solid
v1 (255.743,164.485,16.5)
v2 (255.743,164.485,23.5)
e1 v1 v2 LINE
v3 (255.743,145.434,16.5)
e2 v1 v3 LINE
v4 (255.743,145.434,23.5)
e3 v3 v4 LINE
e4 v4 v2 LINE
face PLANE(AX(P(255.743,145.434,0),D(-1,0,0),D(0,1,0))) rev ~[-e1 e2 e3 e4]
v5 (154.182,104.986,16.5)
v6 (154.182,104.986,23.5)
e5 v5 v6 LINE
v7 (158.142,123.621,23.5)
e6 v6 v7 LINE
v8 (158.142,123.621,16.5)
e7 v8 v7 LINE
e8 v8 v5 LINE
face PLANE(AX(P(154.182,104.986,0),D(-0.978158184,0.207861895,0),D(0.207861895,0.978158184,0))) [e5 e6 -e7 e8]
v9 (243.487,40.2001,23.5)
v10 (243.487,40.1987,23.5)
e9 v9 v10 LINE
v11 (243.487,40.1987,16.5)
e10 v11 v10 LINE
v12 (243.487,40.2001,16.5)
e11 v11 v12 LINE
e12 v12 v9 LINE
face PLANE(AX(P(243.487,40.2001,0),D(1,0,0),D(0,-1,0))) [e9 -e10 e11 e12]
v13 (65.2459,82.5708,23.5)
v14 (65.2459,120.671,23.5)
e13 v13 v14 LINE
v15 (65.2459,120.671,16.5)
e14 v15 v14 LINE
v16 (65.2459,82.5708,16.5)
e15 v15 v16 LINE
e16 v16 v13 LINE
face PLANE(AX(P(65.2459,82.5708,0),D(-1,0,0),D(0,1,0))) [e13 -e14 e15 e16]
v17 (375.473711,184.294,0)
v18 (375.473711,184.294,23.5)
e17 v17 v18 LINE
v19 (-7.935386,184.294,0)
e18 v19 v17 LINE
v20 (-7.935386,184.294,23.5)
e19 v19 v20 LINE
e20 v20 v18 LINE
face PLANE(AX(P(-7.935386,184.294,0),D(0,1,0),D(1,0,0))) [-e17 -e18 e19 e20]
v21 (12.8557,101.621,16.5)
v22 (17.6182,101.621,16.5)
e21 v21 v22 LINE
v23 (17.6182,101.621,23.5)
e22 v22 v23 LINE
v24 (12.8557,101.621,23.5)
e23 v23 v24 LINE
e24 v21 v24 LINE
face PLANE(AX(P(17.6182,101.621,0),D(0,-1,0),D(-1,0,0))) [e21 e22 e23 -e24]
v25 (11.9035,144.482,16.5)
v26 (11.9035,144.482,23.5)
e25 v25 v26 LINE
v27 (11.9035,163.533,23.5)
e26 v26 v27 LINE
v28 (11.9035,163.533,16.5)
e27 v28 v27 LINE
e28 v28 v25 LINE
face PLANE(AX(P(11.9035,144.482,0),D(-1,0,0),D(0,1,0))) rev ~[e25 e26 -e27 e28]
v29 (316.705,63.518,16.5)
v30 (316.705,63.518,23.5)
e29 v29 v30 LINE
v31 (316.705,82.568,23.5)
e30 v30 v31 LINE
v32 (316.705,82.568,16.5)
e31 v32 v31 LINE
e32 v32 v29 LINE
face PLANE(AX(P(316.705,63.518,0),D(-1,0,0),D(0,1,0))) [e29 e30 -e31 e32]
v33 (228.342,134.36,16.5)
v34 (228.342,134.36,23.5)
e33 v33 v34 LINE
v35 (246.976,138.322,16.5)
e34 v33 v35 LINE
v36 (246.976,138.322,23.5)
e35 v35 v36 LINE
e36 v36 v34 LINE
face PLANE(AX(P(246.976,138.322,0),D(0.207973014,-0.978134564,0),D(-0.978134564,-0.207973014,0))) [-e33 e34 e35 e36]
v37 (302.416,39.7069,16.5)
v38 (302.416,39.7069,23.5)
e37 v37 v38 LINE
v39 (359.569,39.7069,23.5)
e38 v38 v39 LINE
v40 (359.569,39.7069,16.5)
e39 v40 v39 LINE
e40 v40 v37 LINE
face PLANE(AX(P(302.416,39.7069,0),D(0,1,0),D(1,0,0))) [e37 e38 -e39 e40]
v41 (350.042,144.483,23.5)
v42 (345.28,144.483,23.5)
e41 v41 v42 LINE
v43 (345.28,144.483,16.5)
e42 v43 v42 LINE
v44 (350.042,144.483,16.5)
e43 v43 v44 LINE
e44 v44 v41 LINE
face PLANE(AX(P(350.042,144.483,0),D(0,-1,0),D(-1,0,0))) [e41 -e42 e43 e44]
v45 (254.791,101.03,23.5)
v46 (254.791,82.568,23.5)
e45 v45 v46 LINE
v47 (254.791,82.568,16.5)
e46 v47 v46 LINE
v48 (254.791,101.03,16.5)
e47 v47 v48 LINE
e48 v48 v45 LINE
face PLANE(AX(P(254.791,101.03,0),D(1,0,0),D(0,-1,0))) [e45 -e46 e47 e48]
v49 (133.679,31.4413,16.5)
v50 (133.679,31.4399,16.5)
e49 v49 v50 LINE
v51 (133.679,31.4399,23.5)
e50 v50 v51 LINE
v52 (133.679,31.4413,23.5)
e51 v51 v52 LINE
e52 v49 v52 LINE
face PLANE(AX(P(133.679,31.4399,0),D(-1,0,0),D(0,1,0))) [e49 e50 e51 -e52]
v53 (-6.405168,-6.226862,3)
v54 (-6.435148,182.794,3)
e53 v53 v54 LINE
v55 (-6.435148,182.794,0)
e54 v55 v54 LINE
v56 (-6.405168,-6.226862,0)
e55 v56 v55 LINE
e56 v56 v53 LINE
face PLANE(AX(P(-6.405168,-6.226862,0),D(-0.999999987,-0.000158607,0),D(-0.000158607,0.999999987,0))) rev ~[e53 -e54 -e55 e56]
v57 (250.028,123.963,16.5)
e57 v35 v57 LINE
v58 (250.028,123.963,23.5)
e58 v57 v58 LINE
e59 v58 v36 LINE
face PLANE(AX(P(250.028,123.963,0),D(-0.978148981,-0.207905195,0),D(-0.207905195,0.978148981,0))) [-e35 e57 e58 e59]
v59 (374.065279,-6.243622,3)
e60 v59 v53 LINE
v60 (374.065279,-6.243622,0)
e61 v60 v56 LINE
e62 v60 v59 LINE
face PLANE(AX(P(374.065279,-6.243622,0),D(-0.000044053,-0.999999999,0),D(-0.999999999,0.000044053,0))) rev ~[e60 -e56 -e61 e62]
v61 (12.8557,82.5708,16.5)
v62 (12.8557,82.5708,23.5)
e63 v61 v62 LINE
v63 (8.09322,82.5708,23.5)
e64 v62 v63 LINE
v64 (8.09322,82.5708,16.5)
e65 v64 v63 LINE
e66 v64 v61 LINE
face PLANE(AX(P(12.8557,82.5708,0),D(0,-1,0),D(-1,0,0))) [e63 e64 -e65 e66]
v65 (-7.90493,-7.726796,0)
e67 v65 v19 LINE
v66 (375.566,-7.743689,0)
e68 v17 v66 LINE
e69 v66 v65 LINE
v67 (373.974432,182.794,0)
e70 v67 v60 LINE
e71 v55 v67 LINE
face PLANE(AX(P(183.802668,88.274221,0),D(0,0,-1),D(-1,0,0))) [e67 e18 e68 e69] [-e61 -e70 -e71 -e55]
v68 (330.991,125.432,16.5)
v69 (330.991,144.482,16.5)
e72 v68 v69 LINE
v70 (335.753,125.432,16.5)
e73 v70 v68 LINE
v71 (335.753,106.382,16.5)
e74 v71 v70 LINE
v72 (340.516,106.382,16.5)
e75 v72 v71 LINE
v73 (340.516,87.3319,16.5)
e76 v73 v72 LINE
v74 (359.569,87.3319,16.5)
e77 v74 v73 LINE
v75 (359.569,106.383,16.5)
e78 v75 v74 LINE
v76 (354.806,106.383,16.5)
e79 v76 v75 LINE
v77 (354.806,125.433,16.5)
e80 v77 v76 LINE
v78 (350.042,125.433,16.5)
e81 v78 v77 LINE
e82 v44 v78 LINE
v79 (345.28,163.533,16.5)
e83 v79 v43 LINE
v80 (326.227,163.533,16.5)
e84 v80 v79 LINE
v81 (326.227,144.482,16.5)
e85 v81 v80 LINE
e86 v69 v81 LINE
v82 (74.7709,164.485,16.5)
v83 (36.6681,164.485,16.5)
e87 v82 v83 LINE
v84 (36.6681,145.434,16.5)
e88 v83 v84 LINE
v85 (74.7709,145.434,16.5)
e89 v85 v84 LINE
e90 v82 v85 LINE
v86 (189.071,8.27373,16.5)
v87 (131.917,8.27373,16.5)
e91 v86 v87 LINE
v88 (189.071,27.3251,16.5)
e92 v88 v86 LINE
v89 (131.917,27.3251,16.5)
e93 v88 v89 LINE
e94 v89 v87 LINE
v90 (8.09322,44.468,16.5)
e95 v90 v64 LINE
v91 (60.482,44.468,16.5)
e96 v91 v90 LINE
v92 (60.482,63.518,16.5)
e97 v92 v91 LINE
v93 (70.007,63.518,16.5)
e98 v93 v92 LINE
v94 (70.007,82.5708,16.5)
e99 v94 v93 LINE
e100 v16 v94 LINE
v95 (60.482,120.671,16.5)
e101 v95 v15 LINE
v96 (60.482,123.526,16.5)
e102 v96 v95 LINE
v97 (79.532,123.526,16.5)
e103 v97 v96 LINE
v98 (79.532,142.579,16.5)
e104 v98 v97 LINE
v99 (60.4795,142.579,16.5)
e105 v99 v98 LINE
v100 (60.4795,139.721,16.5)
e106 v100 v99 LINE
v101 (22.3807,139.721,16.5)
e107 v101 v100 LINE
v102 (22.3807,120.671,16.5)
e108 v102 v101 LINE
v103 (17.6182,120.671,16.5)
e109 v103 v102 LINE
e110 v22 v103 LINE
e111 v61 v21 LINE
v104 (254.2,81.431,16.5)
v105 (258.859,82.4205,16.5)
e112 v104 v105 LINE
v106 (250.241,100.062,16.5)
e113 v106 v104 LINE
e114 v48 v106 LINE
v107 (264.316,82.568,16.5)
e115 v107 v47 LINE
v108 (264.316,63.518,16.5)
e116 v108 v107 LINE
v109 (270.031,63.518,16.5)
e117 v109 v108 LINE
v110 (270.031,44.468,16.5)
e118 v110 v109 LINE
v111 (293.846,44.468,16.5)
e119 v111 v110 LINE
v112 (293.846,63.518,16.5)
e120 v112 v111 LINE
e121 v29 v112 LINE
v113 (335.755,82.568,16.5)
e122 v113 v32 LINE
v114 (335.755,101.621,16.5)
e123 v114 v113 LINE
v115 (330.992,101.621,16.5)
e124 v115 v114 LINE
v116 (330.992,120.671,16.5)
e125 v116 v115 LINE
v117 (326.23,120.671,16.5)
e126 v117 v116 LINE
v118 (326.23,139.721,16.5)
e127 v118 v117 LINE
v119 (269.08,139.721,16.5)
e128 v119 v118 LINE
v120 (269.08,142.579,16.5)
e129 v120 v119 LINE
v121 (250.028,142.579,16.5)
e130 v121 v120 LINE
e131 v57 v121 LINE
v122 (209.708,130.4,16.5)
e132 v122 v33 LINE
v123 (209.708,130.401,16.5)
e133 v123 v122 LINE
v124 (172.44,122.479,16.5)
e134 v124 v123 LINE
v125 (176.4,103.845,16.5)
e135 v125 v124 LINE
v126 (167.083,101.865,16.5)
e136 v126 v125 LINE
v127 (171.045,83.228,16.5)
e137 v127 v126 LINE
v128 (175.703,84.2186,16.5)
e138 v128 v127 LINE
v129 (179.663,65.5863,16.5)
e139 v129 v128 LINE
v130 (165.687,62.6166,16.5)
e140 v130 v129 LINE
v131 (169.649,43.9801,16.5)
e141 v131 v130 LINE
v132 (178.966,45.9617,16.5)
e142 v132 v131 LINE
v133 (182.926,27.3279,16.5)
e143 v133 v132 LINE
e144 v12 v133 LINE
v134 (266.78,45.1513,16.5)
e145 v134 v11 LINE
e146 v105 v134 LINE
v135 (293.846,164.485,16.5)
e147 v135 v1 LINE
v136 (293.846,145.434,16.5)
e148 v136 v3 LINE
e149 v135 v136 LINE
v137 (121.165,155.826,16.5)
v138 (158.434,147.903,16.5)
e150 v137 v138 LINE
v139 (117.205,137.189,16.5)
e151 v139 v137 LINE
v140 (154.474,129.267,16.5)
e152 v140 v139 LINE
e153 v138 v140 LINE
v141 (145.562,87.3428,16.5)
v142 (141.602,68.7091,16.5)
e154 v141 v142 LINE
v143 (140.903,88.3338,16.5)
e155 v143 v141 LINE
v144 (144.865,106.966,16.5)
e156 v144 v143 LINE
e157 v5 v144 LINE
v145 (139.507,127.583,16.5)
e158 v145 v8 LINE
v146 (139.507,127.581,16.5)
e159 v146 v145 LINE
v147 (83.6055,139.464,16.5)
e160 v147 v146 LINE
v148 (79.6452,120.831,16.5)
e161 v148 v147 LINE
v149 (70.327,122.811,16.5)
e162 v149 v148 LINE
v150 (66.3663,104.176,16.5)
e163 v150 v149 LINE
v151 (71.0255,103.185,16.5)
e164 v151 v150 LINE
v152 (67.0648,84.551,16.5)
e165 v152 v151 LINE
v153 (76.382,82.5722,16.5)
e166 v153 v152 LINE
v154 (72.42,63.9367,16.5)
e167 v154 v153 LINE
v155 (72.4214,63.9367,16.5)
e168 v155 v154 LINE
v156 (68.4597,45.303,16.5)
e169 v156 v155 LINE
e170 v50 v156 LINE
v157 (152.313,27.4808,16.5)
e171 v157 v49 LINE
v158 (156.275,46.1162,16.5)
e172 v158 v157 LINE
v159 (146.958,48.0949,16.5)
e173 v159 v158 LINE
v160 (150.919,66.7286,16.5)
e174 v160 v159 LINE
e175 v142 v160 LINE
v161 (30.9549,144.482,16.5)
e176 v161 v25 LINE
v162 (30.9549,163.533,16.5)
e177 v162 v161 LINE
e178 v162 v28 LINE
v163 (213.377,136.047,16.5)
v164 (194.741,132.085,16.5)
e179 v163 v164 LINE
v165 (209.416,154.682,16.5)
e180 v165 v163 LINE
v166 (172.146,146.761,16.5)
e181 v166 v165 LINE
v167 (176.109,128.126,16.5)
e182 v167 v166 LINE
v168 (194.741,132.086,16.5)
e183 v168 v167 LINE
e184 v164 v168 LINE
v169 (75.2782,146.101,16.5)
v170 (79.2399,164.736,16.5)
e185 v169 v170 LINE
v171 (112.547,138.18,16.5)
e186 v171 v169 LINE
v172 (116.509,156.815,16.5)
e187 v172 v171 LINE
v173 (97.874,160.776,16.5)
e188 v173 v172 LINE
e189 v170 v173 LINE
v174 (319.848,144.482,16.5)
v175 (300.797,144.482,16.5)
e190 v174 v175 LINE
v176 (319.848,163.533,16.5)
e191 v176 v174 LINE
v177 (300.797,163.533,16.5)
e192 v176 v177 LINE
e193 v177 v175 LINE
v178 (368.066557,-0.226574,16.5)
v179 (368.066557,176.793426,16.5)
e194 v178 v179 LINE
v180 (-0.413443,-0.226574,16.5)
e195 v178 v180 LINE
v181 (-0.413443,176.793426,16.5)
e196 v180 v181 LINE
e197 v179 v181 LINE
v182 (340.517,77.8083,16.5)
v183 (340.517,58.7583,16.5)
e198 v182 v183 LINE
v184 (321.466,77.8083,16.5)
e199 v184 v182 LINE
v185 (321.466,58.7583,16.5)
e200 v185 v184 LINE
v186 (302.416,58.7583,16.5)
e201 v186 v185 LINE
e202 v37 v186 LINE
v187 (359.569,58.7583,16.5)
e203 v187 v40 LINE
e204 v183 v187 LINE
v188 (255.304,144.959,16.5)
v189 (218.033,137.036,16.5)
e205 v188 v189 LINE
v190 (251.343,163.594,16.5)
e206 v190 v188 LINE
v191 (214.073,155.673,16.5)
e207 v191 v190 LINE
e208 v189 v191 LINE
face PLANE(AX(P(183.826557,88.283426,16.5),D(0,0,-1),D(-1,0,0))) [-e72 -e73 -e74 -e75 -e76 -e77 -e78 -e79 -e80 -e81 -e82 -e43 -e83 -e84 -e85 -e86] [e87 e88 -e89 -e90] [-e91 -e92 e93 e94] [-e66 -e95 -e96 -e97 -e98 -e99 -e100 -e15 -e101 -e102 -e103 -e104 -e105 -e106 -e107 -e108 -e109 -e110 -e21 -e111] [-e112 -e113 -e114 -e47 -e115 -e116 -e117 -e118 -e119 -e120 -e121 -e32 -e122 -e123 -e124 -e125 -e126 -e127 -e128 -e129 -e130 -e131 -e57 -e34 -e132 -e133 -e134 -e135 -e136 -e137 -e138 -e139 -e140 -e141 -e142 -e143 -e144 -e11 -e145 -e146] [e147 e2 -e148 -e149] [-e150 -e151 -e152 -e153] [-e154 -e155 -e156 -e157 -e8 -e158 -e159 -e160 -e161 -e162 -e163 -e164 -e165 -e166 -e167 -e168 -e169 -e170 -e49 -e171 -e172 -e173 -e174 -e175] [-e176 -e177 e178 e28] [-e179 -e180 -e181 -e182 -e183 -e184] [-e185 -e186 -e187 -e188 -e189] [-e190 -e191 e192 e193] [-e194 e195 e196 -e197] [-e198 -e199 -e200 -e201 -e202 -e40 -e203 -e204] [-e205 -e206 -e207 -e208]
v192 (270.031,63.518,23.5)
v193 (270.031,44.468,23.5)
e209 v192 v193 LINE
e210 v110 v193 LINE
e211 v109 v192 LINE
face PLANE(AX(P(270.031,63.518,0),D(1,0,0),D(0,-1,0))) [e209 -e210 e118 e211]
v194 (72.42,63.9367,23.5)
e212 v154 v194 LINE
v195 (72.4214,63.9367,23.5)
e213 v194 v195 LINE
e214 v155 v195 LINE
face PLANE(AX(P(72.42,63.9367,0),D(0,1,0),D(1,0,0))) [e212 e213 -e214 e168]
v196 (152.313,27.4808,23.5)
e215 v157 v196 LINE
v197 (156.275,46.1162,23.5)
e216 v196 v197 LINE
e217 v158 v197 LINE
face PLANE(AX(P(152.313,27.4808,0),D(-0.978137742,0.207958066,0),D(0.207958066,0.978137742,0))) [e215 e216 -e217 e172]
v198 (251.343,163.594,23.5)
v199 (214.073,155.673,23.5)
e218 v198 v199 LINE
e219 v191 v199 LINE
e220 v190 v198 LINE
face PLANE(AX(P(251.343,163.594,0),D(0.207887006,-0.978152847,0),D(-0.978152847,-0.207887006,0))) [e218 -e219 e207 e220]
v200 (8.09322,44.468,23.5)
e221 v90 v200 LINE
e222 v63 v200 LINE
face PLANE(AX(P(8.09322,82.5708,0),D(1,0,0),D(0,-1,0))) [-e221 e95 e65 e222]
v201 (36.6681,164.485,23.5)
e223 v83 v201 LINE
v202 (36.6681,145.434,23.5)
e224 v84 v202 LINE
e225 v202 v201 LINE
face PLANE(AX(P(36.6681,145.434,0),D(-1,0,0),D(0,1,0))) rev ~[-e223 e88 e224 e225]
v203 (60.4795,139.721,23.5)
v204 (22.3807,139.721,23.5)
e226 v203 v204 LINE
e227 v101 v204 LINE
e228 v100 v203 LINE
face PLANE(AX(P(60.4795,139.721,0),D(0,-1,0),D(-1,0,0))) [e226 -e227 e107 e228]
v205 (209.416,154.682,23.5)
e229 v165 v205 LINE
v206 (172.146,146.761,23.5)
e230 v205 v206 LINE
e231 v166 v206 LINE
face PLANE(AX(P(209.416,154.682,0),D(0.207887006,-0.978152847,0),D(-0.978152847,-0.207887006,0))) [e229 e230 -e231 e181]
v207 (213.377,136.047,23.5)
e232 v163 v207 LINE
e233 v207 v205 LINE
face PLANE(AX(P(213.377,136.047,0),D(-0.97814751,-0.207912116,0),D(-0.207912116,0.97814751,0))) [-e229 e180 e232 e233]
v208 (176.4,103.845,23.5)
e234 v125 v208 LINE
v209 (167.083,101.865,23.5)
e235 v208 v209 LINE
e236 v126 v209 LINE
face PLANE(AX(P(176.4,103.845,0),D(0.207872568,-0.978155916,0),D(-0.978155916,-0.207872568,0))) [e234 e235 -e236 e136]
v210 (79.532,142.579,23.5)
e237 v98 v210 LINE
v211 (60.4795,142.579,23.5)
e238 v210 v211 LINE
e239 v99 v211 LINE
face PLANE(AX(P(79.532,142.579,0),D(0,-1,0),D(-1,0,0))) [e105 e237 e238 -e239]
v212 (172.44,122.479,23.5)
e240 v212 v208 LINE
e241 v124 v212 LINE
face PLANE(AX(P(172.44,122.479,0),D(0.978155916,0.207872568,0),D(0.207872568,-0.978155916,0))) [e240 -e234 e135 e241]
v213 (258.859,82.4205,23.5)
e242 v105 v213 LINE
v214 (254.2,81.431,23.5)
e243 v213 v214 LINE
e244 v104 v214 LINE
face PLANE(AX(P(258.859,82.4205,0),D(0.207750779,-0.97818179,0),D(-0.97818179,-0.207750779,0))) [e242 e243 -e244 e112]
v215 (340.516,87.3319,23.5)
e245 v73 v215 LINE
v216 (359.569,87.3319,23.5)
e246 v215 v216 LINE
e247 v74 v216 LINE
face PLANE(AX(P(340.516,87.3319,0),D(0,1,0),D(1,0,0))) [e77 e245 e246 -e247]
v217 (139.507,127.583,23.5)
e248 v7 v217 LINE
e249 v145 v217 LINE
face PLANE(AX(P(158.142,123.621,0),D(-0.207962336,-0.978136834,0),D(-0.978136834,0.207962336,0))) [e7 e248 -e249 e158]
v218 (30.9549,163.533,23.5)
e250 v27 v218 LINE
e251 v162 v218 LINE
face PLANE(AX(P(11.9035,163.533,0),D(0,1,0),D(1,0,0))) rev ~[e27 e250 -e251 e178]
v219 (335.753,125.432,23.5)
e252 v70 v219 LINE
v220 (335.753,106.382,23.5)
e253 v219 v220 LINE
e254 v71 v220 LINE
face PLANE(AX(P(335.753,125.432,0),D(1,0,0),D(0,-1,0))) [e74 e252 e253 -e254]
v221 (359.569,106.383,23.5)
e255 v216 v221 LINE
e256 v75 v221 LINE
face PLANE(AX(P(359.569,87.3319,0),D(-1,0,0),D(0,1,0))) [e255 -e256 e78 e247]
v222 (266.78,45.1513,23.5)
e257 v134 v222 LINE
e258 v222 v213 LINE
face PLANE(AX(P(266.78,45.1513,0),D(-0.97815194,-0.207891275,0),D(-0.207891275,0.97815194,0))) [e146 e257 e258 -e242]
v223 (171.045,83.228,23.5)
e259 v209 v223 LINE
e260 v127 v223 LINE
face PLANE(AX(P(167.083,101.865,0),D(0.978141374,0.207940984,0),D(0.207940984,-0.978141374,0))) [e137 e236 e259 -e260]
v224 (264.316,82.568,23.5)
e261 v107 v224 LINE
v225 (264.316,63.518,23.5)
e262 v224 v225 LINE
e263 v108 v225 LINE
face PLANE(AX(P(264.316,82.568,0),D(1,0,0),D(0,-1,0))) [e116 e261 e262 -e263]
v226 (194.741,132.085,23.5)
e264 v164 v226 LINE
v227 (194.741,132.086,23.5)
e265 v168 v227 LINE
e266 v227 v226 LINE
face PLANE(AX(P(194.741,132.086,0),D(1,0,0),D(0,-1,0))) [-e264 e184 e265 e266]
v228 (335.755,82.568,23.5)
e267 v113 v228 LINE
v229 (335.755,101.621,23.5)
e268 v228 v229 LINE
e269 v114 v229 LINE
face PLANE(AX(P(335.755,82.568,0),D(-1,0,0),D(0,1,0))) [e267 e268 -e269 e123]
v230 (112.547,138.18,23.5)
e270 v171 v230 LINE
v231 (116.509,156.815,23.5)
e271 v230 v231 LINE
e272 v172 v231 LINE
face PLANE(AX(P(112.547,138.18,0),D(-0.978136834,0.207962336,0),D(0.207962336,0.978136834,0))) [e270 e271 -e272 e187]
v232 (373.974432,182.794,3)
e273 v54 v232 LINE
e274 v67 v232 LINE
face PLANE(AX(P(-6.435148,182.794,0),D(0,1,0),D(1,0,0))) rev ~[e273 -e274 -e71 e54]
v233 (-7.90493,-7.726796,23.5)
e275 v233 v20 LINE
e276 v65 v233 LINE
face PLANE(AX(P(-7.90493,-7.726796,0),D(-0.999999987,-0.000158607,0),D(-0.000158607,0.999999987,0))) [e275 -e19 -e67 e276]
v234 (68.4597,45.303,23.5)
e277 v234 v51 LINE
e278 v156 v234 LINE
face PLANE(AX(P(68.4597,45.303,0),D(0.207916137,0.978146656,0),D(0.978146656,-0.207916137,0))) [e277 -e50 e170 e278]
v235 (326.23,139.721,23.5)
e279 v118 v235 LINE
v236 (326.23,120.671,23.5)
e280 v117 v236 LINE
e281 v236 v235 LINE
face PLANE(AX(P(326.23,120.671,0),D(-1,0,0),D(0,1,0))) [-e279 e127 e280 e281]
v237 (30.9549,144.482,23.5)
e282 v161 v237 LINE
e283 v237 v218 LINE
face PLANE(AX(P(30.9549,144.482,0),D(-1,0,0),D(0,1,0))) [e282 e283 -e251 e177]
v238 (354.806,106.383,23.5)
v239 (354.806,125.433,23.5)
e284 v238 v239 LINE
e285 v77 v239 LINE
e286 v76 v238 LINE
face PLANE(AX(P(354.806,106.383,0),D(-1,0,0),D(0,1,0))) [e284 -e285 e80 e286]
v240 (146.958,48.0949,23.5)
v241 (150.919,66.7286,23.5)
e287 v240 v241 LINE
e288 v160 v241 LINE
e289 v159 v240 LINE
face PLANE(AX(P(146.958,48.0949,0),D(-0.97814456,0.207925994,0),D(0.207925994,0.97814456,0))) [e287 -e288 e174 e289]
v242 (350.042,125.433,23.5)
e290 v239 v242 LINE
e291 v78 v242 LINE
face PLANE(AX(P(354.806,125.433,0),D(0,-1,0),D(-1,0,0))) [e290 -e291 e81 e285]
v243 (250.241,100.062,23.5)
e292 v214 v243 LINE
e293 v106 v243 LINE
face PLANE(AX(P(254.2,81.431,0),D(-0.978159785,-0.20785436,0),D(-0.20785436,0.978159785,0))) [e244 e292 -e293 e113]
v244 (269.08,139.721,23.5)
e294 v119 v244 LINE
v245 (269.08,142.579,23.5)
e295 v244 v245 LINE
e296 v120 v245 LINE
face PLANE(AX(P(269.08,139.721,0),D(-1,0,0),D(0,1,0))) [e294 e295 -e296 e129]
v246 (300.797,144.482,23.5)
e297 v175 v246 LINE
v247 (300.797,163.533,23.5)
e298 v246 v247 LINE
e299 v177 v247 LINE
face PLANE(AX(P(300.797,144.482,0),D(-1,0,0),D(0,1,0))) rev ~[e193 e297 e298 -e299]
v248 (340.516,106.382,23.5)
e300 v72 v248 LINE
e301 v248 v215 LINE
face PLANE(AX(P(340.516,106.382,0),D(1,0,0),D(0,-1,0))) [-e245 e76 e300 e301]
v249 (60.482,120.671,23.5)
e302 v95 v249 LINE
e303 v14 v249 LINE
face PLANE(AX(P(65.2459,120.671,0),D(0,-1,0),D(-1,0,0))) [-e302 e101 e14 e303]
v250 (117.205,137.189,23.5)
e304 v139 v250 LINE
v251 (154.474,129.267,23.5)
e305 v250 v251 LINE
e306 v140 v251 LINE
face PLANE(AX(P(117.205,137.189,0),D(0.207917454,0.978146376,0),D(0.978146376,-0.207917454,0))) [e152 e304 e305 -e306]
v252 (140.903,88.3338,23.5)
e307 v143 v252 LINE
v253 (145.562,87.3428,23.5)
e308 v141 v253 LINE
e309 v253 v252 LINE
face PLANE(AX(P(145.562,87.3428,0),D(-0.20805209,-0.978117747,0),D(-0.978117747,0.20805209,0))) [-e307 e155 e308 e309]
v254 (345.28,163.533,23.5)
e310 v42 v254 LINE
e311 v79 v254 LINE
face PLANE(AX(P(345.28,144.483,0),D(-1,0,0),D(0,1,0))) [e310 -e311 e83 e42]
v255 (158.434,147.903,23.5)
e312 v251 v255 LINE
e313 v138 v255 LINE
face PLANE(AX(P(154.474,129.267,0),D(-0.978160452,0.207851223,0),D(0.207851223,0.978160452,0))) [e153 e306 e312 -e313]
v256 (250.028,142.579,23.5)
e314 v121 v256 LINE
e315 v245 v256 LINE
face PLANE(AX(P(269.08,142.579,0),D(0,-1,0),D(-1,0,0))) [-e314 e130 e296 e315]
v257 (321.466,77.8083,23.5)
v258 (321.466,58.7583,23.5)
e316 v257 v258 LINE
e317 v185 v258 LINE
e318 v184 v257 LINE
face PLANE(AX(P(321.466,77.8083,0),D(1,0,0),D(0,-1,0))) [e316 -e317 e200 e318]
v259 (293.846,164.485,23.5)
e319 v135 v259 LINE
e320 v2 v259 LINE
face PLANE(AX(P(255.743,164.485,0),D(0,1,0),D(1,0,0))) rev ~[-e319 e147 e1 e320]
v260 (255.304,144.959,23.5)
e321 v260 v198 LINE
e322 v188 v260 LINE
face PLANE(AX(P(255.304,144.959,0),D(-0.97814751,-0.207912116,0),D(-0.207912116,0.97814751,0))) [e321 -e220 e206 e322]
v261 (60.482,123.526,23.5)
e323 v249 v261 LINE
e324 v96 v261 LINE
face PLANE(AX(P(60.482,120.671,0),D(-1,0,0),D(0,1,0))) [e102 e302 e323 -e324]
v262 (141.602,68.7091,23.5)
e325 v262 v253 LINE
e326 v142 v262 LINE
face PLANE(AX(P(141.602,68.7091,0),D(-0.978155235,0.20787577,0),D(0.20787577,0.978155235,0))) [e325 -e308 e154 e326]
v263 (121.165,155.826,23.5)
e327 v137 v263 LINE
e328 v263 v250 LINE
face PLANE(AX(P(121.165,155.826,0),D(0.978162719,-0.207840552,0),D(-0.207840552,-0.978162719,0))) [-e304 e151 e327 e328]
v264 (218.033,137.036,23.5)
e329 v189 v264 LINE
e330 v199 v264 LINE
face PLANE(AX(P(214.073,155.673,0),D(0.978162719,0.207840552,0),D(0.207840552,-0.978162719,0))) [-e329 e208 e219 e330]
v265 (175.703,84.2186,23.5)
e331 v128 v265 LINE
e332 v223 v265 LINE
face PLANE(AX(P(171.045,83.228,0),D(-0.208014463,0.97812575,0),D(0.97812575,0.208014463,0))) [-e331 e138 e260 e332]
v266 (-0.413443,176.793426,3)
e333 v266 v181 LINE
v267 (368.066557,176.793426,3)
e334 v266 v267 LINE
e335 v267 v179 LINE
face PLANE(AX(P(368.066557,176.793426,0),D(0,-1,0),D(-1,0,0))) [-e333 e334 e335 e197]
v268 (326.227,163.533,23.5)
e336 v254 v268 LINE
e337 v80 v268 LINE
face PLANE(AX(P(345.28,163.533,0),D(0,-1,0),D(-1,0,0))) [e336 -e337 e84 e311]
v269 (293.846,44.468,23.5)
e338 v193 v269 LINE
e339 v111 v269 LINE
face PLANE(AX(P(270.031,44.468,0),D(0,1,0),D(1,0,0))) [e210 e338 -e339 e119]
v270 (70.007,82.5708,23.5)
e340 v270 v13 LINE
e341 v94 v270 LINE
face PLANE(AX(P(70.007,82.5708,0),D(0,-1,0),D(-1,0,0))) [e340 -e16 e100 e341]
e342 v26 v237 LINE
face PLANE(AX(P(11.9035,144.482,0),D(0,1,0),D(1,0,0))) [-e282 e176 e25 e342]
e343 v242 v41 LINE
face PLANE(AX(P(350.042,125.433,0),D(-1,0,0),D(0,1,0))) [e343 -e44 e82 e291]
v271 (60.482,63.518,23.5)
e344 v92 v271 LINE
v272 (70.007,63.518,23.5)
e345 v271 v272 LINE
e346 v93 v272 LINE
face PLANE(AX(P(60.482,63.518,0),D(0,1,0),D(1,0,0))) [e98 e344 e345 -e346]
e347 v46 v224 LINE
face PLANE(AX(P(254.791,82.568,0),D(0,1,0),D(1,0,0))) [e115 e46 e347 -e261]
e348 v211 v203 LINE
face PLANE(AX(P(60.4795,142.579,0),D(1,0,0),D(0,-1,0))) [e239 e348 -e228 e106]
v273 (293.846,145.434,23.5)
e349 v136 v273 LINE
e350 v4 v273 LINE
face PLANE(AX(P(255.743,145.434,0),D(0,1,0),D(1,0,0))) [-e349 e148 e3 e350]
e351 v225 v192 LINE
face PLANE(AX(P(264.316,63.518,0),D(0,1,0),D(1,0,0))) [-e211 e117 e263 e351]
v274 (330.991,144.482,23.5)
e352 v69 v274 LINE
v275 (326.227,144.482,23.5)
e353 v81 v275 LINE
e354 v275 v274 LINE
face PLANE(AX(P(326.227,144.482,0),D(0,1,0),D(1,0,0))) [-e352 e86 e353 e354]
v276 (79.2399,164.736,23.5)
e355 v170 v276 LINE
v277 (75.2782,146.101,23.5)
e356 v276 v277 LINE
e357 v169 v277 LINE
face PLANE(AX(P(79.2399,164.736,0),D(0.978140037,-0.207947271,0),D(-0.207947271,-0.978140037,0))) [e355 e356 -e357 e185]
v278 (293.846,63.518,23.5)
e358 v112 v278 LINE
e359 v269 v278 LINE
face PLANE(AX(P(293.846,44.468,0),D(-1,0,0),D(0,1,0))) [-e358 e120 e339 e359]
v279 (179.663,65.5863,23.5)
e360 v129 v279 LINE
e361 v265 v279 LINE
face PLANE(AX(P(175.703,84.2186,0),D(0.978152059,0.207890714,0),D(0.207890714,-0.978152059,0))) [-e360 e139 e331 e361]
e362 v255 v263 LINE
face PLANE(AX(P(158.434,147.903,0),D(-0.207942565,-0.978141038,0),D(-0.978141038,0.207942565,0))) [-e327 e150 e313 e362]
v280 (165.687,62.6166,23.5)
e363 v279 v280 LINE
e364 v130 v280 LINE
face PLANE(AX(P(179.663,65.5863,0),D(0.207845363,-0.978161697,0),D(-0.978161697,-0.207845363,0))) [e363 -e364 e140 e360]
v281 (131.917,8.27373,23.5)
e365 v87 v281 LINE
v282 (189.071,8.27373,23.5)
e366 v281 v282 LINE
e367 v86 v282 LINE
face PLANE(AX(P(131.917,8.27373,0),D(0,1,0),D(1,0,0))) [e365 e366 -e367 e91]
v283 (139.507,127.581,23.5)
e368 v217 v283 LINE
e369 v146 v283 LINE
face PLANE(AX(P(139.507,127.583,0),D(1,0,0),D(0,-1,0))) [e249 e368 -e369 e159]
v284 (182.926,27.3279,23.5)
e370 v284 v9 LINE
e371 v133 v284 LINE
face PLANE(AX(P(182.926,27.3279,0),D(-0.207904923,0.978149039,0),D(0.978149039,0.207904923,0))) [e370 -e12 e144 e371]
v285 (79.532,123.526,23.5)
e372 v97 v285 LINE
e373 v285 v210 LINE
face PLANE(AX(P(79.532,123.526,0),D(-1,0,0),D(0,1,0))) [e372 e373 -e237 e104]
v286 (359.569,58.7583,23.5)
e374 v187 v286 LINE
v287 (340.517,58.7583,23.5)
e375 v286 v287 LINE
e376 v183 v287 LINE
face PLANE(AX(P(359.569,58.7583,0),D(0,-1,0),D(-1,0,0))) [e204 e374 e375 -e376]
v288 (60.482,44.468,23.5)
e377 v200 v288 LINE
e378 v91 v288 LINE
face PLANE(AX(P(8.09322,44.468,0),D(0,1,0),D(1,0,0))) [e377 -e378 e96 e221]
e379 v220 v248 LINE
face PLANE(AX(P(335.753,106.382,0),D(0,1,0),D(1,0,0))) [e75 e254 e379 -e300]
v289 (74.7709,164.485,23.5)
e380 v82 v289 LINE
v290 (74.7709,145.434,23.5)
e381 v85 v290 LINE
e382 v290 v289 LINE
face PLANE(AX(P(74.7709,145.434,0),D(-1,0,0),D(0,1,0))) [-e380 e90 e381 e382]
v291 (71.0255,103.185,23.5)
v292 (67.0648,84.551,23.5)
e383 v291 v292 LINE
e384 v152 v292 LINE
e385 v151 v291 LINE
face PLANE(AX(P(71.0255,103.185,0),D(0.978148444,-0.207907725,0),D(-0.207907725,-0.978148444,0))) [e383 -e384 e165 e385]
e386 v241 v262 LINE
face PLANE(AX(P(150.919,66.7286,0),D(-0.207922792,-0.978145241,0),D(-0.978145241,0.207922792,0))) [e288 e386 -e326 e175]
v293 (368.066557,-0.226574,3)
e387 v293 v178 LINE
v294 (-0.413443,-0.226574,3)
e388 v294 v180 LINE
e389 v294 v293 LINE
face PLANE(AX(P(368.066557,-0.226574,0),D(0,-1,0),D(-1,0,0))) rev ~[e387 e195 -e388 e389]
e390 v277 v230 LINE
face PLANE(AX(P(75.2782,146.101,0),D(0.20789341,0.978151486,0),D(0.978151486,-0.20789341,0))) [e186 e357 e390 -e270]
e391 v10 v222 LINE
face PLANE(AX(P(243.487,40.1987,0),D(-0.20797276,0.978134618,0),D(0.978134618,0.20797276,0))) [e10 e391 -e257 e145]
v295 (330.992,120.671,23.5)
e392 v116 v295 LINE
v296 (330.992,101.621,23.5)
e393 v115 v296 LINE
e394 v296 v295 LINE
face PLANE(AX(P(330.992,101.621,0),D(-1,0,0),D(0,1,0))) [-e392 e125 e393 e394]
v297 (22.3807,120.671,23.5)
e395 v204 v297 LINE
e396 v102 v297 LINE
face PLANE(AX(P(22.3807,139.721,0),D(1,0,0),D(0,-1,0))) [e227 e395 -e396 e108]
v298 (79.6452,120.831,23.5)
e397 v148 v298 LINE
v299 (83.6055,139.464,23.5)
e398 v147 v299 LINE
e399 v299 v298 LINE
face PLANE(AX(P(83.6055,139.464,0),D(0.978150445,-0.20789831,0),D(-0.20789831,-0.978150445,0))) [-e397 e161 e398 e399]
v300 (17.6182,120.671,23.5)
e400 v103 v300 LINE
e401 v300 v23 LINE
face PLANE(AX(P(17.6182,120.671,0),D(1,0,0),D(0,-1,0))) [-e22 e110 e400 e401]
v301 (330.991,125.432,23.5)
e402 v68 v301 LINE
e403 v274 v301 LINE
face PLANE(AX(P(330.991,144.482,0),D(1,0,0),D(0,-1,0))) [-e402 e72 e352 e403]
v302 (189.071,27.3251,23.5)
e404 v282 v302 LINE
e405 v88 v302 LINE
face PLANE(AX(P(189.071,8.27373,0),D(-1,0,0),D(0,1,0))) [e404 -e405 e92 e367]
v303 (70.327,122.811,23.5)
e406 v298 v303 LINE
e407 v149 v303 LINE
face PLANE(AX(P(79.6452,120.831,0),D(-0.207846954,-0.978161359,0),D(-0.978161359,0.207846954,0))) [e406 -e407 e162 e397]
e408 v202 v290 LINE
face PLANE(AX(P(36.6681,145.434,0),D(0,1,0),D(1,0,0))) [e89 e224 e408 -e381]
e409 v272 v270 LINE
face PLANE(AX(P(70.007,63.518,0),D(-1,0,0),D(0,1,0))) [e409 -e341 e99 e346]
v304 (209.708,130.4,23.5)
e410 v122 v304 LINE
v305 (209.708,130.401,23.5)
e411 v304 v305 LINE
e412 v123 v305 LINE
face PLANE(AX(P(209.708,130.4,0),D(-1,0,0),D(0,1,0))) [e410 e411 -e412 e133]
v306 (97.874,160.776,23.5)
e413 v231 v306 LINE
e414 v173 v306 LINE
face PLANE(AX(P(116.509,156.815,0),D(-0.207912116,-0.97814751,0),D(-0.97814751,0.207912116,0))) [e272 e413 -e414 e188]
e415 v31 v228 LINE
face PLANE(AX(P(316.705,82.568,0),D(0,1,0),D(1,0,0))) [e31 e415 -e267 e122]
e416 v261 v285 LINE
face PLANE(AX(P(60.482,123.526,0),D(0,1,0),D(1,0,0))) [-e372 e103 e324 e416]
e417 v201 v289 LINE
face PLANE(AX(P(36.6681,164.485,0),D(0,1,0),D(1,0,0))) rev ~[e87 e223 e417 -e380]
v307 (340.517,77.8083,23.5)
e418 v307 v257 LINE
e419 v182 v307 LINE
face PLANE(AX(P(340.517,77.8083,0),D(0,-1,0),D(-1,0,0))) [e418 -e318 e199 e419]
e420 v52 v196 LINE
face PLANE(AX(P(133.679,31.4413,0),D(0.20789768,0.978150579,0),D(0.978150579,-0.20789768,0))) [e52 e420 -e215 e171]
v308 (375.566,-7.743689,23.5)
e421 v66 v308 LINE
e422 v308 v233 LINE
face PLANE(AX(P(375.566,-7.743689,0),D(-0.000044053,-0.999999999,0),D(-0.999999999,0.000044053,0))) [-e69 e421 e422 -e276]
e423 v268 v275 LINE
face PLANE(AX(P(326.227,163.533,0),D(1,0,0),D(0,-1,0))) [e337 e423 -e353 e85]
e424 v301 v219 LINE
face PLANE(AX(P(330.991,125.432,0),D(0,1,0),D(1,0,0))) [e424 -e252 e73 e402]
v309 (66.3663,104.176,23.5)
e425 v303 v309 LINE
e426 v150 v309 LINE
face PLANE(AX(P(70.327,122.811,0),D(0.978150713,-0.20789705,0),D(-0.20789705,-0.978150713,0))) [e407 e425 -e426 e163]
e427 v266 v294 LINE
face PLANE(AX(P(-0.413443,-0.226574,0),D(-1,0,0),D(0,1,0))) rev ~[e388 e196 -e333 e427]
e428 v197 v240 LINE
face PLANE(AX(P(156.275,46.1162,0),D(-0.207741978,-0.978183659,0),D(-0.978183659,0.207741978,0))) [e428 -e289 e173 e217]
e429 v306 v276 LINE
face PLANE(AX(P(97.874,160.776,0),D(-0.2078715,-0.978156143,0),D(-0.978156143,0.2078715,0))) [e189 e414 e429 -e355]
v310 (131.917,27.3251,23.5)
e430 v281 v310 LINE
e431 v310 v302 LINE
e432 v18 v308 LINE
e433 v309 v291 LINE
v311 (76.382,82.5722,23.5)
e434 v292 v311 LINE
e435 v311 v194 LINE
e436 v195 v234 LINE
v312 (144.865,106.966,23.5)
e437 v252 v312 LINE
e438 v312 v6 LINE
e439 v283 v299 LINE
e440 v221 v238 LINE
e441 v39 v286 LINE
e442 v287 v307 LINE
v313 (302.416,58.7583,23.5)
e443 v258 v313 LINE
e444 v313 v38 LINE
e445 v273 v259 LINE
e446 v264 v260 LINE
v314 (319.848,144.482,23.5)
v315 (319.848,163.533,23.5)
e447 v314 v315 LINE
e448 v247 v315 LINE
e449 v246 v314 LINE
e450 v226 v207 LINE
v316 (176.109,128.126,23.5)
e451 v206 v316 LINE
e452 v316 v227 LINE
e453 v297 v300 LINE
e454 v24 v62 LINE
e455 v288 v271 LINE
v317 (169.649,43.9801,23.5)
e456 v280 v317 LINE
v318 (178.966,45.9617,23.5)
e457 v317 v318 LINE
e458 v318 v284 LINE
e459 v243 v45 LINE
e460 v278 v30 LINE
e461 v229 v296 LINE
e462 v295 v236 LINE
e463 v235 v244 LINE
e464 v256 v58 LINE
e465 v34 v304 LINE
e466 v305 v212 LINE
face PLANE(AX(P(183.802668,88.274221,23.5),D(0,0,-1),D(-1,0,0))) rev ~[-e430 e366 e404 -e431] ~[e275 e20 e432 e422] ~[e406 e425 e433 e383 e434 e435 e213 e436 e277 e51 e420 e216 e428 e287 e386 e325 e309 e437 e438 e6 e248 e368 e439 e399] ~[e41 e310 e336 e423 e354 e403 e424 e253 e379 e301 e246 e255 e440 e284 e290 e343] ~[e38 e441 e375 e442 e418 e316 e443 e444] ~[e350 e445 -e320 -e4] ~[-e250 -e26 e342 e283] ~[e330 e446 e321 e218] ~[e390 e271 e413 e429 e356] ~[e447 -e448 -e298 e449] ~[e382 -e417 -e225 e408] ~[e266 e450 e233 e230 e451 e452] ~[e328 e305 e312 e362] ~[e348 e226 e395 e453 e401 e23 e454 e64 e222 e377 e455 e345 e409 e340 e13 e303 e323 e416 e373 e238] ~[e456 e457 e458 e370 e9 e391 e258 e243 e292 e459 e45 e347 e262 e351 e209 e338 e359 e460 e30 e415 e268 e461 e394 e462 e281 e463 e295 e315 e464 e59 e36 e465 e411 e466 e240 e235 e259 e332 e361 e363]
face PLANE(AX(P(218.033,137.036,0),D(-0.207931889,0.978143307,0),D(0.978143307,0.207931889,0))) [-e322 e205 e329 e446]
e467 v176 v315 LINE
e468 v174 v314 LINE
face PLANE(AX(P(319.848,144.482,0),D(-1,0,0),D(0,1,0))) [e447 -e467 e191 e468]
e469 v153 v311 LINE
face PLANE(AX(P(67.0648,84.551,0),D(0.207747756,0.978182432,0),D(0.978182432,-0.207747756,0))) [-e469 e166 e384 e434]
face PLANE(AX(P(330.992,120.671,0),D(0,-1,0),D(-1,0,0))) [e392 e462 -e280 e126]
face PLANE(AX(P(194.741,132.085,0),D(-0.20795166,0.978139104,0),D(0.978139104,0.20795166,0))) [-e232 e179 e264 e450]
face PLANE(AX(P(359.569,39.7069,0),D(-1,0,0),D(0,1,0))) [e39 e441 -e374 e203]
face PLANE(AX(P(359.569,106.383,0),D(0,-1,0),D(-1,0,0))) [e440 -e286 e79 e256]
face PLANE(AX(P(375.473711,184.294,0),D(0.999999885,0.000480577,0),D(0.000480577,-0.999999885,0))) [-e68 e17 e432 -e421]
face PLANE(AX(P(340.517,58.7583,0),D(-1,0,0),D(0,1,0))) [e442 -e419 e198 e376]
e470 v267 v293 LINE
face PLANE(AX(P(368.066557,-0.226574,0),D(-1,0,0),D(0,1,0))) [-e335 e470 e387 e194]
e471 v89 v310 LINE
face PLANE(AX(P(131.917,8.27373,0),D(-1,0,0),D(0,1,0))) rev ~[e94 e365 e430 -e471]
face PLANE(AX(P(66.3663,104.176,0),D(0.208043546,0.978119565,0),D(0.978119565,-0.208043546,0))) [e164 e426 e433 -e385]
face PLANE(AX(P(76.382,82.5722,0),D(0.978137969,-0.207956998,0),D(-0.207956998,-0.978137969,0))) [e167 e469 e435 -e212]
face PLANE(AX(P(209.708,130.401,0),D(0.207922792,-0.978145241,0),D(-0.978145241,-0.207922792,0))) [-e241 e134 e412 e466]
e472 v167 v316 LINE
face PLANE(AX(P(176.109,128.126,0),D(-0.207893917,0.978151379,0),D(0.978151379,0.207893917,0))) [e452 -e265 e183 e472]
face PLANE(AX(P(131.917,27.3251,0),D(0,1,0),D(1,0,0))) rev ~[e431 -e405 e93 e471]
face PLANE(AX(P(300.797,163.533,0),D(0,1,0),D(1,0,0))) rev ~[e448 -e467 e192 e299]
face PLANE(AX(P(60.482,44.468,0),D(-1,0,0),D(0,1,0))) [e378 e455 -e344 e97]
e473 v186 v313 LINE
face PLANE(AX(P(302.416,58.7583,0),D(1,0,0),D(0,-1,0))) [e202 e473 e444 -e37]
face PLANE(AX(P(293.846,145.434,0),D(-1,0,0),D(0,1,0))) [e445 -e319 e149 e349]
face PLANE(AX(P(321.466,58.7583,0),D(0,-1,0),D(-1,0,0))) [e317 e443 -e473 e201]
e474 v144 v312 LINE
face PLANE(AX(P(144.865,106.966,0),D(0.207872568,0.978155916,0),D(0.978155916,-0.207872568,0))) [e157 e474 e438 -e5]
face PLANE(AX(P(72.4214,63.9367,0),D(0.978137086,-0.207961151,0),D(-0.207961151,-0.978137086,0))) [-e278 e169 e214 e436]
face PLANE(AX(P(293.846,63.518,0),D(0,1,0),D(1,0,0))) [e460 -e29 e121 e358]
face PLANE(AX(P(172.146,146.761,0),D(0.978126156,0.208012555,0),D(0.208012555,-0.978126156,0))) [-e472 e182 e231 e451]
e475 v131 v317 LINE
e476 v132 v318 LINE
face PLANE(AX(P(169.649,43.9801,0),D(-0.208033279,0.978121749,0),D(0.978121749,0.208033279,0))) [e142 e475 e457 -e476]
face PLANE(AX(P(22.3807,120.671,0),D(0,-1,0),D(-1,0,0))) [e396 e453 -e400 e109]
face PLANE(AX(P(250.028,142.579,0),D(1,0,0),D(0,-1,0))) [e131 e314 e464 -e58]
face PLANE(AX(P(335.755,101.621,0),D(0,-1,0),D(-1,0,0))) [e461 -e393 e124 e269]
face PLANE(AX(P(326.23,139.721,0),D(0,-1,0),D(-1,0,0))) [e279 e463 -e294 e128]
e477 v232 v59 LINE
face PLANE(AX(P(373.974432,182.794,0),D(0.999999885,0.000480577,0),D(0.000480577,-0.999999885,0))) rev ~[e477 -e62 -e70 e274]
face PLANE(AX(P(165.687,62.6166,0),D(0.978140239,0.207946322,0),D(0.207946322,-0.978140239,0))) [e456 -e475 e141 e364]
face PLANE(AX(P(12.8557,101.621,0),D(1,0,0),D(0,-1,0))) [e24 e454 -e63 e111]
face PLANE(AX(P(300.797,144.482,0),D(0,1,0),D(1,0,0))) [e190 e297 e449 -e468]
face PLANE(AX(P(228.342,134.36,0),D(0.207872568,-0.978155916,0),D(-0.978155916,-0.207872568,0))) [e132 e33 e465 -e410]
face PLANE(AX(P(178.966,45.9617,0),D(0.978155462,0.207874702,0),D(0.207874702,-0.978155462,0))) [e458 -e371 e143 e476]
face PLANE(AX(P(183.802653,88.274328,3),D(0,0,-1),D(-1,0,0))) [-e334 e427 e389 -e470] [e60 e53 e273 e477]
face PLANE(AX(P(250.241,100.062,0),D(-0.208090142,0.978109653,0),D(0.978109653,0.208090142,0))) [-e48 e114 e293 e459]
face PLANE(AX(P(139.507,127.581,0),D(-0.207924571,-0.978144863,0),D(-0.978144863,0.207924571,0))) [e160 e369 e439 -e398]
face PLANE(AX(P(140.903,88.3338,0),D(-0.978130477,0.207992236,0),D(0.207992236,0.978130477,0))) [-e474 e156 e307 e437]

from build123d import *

# Parameters (mm, degrees)
MODEL_W             = 57.154
MODEL_H             = 19.05137
MODEL_W_2           = 19.051
MODEL_H_2           = 19.051
MODEL_W_3           = 19.0514
MODEL_W_4           = 38.103
MODEL_W_5           = 38.1028
EXTRUDE_1_DEPTH     = 23.5
SKETCH_2_W          = 368.48
SKETCH_2_H          = 177.02
CUT_EXTRUDE_1_DEPTH = 16.5
CUT_EXTRUDE_2_DEPTH = 3


with BuildPart() as part:
    # Model → 凸台-拉伸1 (new body)
    with BuildSketch(Plane.XY):
        Polygon((-7.904930268, -7.726795577), (-7.935386074, 184.294), (375.473711158, 184.294), (375.566, -7.74368854), align=None)
        with Locations((160.494, 17.799415)):
            Rectangle(MODEL_W, MODEL_H, mode=Mode.SUBTRACT)
        Polygon((250.028, 142.579), (250.028, 123.963), (246.976, 138.322), (228.342, 134.36), (209.708, 130.4), (209.708, 130.401), (172.44, 122.479), (176.4, 103.845), (167.083, 101.865), (171.045, 83.228), (175.703, 84.2186), (179.663, 65.5863), (165.687, 62.6166), (169.649, 43.9801), (178.966, 45.9617), (182.926, 27.3279), (243.487, 40.2001), (243.487, 40.1987), (266.78, 45.1513), (258.859, 82.4205), (254.2, 81.431), (250.241, 100.062), (254.791, 101.03), (254.791, 82.568), (264.316, 82.568), (264.316, 63.518), (270.031, 63.518), (270.031, 44.468), (293.846, 44.468), (293.846, 63.518), (316.705, 63.518), (316.705, 82.568), (335.755, 82.568), (335.755, 101.621), (330.992, 101.621), (330.992, 120.671), (326.23, 120.671), (326.23, 139.721), (269.08, 139.721), (269.08, 142.579), align=None, mode=Mode.SUBTRACT)
        Polygon((79.6452, 120.831), (70.327, 122.811), (66.3663, 104.176), (71.0255, 103.185), (67.0648, 84.551), (76.382, 82.5722), (72.42, 63.9367), (72.4214, 63.9367), (68.4597, 45.303), (133.679, 31.4399), (133.679, 31.4413), (152.313, 27.4808), (156.275, 46.1162), (146.958, 48.0949), (150.919, 66.7286), (141.602, 68.7091), (145.562, 87.3428), (140.903, 88.3338), (144.865, 106.966), (154.182, 104.986), (158.142, 123.621), (139.507, 127.583), (139.507, 127.581), (83.6055, 139.464), align=None, mode=Mode.SUBTRACT)
        Polygon((321.466, 77.8083), (321.466, 58.7583), (302.416, 58.7583), (302.416, 39.7069), (359.569, 39.7069), (359.569, 58.7583), (340.517, 58.7583), (340.517, 77.8083), align=None, mode=Mode.SUBTRACT)
        Polygon((60.4795, 142.579), (60.4795, 139.721), (22.3807, 139.721), (22.3807, 120.671), (17.6182, 120.671), (17.6182, 101.621), (12.8557, 101.621), (12.8557, 82.5708), (8.09322, 82.5708), (8.09322, 44.468), (60.482, 44.468), (60.482, 63.518), (70.007, 63.518), (70.007, 82.5708), (65.2459, 82.5708), (65.2459, 120.671), (60.482, 120.671), (60.482, 123.526), (79.532, 123.526), (79.532, 142.579), align=None, mode=Mode.SUBTRACT)
        Polygon((326.227, 163.533), (326.227, 144.482), (330.991, 144.482), (330.991, 125.432), (335.753, 125.432), (335.753, 106.382), (340.516, 106.382), (340.516, 87.3319), (359.569, 87.3319), (359.569, 106.383), (354.806, 106.383), (354.806, 125.433), (350.042, 125.433), (350.042, 144.483), (345.28, 144.483), (345.28, 163.533), align=None, mode=Mode.SUBTRACT)
        Polygon((172.146, 146.761), (176.109, 128.126), (194.741, 132.086), (194.741, 132.085), (213.377, 136.047), (209.416, 154.682), align=None, mode=Mode.SUBTRACT)
        Polygon((117.205, 137.189), (154.474, 129.267), (158.434, 147.903), (121.165, 155.826), align=None, mode=Mode.SUBTRACT)
        Polygon((214.073, 155.673), (218.033, 137.036), (255.304, 144.959), (251.343, 163.594), align=None, mode=Mode.SUBTRACT)
        Polygon((75.2782, 146.101), (112.547, 138.18), (116.509, 156.815), (97.874, 160.776), (79.2399, 164.736), align=None, mode=Mode.SUBTRACT)
        with Locations((310.3225, 154.0075)):
            Rectangle(MODEL_W_2, MODEL_H_2, mode=Mode.SUBTRACT)
        with Locations((21.4292, 154.0075)):
            Rectangle(MODEL_W_3, MODEL_H_2, mode=Mode.SUBTRACT)
        with Locations((274.7945, 154.9595)):
            Rectangle(MODEL_W_4, MODEL_H_2, mode=Mode.SUBTRACT)
        with Locations((55.7195, 154.9595)):
            Rectangle(MODEL_W_5, MODEL_H_2, mode=Mode.SUBTRACT)
    extrude(amount=EXTRUDE_1_DEPTH)

    # 草图2 → 切除-拉伸1 (cut)
    with BuildSketch(Plane(origin=(0, 0, 0), x_dir=(-1, 0, 0), z_dir=(0, 0, -1))):
        with Locations((-183.826556737, 88.283426)):
            Rectangle(SKETCH_2_W, SKETCH_2_H)
    extrude(amount=-CUT_EXTRUDE_1_DEPTH, mode=Mode.SUBTRACT)

    # 草图3 → 切除-拉伸2 (cut)
    with BuildSketch(Plane(origin=(0, 0, 0), x_dir=(-1, 0, 0), z_dir=(0, 0, -1))):
        Polygon((-374.06527893, -6.243622428), (6.405168149, -6.226861644), (6.435148145, 182.794), (-373.97443185, 182.794), align=None)
    extrude(amount=-CUT_EXTRUDE_2_DEPTH, mode=Mode.SUBTRACT)


solid = part.part
